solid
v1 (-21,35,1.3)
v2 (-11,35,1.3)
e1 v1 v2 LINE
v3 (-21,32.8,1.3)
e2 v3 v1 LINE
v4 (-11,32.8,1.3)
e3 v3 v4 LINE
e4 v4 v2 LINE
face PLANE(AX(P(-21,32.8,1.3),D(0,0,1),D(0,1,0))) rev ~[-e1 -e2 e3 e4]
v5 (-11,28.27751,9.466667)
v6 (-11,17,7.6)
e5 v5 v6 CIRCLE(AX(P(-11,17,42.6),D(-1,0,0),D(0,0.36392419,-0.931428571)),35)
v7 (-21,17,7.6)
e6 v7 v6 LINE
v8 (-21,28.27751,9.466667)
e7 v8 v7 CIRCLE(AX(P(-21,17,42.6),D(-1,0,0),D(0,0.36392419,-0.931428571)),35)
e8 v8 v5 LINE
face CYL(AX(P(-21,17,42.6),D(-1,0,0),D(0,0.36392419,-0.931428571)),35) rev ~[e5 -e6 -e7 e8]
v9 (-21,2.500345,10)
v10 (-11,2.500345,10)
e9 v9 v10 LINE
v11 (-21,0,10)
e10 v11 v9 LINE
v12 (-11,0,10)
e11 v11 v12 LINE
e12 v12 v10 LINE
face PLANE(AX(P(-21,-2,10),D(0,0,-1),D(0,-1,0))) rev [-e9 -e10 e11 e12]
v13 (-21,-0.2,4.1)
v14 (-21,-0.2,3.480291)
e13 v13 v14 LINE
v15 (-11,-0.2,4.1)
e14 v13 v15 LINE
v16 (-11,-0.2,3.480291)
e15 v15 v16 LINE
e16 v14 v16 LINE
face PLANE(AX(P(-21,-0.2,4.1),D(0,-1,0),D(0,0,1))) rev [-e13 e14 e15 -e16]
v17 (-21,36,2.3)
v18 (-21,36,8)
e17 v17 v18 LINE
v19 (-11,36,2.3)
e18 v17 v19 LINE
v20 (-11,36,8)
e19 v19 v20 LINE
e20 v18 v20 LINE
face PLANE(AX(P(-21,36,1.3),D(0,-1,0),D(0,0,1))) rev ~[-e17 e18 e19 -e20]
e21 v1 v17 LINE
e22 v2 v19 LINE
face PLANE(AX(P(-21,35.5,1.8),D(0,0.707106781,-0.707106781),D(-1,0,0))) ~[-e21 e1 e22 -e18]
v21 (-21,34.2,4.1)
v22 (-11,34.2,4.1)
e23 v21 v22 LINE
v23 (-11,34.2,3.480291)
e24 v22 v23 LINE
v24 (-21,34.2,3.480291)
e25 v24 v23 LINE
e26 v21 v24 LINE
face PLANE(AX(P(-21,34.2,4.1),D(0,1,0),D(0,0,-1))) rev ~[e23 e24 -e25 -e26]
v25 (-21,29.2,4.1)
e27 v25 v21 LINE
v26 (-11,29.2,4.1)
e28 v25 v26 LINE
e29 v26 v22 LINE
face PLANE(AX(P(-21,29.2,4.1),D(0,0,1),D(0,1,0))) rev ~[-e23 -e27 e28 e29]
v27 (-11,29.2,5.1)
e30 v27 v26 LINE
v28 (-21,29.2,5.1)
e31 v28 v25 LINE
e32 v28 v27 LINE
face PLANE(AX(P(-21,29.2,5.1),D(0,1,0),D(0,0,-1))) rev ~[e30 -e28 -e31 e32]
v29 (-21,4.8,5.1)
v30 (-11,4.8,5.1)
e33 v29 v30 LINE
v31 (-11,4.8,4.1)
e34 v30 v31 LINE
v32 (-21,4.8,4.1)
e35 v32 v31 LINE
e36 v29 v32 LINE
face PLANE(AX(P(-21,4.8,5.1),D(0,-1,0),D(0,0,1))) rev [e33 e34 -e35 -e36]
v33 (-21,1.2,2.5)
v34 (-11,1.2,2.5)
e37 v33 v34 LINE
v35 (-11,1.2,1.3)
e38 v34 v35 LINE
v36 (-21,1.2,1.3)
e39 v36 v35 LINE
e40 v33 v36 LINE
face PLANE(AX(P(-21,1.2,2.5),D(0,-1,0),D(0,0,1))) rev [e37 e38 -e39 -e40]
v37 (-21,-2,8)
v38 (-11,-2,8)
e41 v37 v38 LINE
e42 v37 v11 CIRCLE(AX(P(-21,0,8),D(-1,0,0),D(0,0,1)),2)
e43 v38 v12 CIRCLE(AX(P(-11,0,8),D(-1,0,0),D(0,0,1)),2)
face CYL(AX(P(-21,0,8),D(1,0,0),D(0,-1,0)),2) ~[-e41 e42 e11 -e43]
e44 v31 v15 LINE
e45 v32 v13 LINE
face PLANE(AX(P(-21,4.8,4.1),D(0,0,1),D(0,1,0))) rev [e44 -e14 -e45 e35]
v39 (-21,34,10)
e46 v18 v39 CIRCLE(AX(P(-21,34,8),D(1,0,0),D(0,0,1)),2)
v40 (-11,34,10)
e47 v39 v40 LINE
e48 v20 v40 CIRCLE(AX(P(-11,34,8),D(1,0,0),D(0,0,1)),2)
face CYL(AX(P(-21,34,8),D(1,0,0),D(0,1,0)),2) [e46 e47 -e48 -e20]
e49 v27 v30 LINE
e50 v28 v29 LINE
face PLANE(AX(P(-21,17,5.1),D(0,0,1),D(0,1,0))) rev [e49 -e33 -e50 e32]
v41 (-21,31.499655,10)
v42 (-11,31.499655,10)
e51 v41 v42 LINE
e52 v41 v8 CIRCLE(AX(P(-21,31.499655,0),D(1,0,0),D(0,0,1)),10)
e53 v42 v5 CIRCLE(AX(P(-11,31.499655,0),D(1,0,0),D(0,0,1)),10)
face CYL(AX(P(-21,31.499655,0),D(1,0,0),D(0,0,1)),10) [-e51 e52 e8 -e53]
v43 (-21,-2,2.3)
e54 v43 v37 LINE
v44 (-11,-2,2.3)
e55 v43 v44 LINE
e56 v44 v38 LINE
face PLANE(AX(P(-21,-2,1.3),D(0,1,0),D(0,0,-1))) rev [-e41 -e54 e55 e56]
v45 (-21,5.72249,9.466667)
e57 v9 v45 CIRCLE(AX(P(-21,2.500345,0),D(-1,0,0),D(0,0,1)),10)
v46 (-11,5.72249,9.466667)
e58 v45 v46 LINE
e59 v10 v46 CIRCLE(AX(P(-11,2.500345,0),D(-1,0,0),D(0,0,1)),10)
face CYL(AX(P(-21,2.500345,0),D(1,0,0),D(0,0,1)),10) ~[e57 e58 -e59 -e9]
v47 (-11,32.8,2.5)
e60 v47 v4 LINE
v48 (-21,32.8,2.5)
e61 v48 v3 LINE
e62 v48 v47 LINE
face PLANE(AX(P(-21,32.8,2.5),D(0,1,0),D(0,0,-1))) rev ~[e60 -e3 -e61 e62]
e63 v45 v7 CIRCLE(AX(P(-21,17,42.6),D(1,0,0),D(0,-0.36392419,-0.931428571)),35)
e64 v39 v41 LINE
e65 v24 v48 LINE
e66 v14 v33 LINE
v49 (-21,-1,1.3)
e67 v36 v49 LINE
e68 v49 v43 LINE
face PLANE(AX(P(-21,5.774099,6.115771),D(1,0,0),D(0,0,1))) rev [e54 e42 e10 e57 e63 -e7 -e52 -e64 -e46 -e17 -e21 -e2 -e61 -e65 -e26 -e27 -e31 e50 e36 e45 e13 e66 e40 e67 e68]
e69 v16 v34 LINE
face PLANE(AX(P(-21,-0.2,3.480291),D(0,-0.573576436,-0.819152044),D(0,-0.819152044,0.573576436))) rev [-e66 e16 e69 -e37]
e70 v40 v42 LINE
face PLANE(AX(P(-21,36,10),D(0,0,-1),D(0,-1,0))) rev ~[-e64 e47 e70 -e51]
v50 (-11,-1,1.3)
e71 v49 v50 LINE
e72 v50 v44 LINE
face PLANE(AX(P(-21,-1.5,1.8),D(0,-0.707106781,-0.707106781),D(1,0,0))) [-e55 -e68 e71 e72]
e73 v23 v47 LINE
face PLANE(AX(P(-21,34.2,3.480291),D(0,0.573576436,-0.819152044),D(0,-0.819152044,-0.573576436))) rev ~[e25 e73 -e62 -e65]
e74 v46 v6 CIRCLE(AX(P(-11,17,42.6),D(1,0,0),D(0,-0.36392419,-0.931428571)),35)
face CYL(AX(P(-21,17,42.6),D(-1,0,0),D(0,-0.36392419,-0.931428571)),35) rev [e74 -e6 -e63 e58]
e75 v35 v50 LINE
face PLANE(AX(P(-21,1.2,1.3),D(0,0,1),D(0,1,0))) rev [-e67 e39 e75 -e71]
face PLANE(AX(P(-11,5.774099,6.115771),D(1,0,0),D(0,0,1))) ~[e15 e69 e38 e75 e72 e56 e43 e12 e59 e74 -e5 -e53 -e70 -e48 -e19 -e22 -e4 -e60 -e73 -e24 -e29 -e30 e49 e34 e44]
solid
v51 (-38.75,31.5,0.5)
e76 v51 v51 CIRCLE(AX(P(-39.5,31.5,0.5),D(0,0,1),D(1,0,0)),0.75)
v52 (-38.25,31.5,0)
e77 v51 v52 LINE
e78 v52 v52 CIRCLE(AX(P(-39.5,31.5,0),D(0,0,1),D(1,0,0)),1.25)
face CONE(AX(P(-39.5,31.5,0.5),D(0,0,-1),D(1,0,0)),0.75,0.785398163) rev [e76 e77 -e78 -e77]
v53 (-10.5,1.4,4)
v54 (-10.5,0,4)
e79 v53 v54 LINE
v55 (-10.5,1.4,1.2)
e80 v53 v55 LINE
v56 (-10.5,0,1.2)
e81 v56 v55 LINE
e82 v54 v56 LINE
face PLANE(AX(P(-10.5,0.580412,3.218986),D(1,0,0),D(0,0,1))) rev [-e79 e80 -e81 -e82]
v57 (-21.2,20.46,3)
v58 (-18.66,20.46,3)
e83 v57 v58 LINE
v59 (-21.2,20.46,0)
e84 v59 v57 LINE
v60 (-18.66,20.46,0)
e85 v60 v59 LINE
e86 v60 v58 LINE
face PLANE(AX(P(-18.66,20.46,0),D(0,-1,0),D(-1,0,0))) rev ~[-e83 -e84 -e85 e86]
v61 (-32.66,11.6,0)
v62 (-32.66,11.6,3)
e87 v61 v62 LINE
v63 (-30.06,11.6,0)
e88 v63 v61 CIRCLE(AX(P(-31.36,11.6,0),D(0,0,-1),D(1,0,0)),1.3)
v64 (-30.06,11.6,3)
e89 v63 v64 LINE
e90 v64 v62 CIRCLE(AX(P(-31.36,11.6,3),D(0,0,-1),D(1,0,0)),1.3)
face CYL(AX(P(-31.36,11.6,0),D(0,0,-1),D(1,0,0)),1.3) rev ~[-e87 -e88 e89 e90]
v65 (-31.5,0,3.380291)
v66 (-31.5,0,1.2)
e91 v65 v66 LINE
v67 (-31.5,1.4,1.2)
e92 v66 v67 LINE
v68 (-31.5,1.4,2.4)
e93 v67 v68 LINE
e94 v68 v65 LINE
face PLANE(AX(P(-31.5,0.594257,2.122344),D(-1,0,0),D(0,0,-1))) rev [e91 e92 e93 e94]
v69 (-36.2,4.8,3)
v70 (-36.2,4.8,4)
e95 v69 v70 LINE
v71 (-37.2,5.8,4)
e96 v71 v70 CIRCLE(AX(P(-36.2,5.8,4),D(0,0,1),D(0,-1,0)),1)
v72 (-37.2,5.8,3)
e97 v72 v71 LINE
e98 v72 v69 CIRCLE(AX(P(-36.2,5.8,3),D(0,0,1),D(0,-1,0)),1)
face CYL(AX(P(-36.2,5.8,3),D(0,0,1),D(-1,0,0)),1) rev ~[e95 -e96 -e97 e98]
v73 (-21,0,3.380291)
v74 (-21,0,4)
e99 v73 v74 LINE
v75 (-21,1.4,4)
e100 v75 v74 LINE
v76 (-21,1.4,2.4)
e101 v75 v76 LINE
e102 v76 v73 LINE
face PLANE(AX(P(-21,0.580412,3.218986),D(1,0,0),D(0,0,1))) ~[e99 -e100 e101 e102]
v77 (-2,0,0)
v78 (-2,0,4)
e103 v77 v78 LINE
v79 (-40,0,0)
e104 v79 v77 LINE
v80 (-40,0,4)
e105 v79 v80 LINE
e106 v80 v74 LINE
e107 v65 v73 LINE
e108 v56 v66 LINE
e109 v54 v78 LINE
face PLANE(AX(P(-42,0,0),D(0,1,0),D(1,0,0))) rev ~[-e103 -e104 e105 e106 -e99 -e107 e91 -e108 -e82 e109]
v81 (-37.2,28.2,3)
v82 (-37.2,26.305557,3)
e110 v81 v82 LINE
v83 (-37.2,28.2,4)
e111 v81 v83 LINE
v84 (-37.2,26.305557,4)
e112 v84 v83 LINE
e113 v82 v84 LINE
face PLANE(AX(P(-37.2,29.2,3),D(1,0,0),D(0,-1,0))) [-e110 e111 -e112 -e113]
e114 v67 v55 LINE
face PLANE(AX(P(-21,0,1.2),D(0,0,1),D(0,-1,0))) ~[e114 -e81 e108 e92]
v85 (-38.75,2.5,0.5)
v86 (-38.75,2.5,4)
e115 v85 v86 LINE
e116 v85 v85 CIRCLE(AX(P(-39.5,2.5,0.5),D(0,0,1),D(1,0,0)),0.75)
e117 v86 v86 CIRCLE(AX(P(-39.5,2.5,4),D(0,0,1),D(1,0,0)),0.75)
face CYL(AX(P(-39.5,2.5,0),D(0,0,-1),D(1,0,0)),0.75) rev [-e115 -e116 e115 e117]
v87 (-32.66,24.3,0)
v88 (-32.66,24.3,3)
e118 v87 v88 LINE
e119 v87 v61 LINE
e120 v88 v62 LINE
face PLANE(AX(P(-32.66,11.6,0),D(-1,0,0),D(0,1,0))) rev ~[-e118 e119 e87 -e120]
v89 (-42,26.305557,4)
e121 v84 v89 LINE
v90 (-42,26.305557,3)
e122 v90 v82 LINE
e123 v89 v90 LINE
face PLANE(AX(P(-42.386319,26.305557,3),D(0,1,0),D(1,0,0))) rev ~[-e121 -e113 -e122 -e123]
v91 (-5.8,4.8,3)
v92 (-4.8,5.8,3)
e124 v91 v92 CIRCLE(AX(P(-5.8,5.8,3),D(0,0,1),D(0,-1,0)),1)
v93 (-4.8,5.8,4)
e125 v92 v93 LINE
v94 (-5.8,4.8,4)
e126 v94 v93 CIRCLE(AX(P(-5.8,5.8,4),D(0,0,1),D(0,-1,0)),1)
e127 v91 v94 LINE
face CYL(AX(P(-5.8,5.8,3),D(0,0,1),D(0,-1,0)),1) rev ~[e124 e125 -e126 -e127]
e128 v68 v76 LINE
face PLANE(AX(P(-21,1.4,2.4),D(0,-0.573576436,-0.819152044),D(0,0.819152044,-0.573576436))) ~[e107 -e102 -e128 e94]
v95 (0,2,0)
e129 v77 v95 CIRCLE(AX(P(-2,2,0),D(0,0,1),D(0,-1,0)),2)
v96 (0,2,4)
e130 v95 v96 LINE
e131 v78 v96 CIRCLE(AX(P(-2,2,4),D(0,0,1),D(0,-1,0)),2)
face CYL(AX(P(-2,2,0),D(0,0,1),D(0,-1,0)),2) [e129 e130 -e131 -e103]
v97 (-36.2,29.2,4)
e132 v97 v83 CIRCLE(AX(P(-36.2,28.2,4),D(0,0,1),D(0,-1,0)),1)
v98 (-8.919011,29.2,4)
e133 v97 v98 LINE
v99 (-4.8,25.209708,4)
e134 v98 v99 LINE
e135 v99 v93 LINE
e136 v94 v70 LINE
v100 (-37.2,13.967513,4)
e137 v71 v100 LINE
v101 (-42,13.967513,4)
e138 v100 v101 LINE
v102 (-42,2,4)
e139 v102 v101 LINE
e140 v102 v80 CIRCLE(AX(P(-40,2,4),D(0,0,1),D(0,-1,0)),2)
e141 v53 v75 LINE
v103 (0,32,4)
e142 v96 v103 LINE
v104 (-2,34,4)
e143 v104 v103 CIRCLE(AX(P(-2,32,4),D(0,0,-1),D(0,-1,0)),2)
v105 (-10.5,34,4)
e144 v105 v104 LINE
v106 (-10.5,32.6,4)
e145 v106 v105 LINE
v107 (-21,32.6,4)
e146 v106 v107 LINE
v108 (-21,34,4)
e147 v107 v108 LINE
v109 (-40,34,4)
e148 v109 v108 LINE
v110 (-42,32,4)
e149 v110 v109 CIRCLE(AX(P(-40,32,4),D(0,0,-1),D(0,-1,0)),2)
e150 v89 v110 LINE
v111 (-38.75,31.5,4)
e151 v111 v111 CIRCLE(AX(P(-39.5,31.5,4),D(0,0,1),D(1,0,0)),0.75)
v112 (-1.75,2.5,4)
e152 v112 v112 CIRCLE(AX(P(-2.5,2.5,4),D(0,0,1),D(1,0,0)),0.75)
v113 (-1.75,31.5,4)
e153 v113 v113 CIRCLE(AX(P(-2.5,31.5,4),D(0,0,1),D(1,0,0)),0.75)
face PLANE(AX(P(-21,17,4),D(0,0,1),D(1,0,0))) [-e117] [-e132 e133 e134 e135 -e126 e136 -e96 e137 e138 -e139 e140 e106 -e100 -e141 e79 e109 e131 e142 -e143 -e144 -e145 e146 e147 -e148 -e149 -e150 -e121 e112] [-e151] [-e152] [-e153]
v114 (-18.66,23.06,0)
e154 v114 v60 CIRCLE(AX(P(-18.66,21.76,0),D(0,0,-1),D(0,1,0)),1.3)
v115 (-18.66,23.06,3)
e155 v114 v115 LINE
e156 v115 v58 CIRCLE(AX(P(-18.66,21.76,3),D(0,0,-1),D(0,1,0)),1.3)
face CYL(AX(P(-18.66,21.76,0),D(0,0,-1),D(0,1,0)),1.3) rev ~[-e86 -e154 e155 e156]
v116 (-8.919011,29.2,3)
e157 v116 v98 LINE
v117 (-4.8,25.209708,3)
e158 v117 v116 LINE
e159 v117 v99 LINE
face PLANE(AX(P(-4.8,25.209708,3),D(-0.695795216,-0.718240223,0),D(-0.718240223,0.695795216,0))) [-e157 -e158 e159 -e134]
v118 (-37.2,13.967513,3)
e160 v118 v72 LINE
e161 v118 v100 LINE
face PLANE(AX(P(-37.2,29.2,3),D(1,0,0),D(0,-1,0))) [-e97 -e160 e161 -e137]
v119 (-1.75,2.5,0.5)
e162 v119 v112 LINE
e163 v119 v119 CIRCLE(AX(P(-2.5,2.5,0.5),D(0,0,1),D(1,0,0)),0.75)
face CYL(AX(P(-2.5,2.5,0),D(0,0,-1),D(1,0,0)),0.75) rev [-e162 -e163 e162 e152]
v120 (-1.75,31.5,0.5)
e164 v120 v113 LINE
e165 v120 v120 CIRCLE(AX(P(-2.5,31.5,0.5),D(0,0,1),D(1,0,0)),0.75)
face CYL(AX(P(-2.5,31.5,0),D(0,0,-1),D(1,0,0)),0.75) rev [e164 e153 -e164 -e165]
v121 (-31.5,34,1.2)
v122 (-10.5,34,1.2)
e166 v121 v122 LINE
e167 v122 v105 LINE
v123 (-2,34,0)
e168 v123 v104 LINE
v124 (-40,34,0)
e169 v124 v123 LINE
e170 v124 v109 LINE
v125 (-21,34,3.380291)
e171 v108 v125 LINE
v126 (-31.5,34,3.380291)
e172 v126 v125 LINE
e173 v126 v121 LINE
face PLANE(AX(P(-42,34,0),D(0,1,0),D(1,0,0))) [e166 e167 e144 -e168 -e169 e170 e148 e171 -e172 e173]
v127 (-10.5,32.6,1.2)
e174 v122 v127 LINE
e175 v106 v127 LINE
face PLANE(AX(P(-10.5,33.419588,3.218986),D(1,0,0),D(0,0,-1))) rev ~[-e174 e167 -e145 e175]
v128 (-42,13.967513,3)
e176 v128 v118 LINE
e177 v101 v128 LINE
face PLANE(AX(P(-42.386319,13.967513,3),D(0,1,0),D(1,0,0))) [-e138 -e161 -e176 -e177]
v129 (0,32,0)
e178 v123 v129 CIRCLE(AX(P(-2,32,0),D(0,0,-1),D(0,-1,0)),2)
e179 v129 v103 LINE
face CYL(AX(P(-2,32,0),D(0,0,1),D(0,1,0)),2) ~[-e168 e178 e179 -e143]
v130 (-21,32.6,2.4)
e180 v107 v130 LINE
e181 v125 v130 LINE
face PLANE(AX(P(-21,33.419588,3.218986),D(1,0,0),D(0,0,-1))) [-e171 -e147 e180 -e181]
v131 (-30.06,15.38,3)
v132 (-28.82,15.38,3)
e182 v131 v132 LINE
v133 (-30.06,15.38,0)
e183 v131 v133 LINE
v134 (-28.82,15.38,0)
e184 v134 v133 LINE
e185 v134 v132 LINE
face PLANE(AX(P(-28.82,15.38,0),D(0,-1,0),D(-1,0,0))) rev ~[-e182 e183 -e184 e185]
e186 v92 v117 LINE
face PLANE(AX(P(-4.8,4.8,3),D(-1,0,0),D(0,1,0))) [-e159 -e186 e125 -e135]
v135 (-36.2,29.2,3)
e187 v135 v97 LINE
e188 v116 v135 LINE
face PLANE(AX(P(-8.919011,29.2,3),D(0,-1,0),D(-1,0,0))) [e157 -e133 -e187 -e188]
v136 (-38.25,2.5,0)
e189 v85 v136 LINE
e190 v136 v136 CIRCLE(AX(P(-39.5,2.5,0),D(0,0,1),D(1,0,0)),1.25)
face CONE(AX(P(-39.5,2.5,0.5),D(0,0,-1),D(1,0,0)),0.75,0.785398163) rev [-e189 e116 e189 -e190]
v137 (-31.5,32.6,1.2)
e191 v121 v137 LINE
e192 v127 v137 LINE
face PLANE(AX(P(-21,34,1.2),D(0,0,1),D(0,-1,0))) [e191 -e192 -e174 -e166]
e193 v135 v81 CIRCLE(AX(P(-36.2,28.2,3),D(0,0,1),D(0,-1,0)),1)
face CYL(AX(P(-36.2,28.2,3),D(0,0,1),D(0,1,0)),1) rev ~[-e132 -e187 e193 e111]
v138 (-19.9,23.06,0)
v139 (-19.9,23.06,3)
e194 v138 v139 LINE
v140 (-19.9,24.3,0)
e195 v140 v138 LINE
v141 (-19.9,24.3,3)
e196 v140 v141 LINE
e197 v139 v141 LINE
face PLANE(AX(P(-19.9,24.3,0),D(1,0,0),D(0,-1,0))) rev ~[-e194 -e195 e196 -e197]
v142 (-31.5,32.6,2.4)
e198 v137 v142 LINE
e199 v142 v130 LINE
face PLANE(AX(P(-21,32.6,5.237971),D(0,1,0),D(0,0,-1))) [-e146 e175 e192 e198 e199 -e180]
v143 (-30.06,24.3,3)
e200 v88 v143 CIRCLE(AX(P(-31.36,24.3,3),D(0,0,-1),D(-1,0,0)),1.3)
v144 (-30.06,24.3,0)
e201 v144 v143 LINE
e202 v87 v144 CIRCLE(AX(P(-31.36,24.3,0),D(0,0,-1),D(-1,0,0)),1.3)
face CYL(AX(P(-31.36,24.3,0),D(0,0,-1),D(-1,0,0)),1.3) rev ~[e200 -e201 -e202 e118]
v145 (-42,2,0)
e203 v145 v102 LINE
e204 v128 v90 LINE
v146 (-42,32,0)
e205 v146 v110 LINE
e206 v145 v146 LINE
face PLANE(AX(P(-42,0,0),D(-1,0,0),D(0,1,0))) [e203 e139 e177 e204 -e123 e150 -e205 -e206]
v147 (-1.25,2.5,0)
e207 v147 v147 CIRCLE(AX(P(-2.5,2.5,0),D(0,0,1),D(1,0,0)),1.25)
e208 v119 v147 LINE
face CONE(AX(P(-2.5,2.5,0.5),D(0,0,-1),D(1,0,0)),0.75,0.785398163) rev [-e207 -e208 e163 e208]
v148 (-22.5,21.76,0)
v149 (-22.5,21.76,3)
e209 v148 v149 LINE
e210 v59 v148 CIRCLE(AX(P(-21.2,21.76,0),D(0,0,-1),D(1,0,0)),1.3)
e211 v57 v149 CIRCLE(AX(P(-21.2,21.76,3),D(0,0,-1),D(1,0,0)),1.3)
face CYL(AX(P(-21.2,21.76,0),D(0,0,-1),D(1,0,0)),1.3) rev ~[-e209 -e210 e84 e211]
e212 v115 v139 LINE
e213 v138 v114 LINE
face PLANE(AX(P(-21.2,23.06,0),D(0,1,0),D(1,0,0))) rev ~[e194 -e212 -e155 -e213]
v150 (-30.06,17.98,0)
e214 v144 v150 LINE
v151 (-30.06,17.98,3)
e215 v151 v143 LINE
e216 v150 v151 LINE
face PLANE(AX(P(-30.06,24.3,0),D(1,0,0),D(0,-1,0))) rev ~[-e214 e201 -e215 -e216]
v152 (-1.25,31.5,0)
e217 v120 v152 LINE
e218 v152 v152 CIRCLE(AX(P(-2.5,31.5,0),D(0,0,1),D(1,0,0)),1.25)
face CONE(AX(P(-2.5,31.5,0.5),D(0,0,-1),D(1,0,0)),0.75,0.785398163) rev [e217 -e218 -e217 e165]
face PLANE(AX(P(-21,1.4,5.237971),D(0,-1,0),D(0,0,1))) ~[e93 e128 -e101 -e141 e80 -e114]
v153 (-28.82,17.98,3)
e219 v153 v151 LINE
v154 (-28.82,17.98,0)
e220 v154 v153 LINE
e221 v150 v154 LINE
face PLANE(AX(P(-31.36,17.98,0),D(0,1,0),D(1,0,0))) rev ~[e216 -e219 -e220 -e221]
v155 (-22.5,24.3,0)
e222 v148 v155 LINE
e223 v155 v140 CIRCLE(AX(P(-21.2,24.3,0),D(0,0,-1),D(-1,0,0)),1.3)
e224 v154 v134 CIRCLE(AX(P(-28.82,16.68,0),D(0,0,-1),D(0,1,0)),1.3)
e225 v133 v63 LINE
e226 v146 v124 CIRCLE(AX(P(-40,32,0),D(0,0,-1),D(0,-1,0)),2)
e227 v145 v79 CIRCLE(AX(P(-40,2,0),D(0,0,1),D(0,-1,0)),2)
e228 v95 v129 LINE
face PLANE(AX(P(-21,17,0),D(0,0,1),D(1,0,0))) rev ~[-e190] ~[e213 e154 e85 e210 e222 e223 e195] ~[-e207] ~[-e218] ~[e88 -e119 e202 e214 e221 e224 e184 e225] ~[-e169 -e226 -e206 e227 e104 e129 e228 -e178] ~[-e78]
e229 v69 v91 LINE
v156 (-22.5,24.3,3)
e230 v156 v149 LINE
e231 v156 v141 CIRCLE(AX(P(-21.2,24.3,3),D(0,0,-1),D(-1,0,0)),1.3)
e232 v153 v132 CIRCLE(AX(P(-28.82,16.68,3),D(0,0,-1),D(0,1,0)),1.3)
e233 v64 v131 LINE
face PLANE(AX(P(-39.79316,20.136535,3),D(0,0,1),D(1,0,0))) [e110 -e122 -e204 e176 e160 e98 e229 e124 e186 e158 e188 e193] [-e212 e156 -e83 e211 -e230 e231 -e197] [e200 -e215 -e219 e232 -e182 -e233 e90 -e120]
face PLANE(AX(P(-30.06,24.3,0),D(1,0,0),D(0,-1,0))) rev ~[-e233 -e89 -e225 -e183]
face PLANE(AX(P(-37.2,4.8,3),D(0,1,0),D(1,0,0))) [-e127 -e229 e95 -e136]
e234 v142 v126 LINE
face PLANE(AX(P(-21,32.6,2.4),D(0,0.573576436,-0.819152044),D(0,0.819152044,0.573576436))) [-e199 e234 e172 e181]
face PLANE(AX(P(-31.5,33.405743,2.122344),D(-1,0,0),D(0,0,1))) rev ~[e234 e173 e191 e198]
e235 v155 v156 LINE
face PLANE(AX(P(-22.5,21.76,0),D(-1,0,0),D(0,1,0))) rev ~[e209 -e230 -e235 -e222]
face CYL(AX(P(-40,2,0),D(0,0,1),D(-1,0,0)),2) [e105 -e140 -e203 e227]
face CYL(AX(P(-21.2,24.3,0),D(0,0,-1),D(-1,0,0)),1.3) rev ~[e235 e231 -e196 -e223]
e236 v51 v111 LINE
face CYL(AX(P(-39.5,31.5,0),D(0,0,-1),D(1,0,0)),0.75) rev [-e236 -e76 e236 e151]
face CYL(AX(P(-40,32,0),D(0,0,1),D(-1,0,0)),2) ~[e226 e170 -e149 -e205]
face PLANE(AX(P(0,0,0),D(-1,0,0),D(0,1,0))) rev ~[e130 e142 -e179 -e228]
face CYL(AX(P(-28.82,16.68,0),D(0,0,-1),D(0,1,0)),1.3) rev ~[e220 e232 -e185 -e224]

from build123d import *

# Parameters (mm, degrees)
SKIZZE1_W                       = 42
SKIZZE1_H                       = 34
SKIZZE1_R                       = 0.75
AUFSATZ_LINEAR_AUSTRAGEN1_DEPTH = 4
SCHNITT_LINEAR_AUSTRAGEN1_DEPTH = 55.120236511
SCHNITT_LINEAR_AUSTRAGEN2_DEPTH = 55.184868737
SCHNITT_LINEAR_AUSTRAGEN4_DEPTH = 55.184868737
SKIZZE4_W                       = 5.186319123
SKIZZE4_H                       = 12.338044151
SCHNITT_LINEAR_AUSTRAGEN3_DEPTH = 55.120236511
VERRUNDUNG1_R                   = 2
VERRUNDUNG2_R                   = 1
FASE2_SIZE                      = 0.5
SCHNITT_LINEAR_AUSTRAGEN8_DEPTH = 10.5
SKIZZE15_W                      = 4.03797119
SKIZZE15_H                      = 1.639176424
SCHNITT_LINEAR_AUSTRAGEN9_DEPTH = 10.5
AUFSATZ_LINEAR_AUSTRAGEN5_DEPTH = 10
FASE4_SIZE                      = 1
VERRUNDUNG10_R                  = 2
VERRUNDUNG11_R                  = 10


with BuildPart() as part:
    # Skizze1 → Aufsatz-Linear austragen1 (new body)
    with BuildSketch(Plane.XY):
        with Locations((-21, 17)):
            Rectangle(SKIZZE1_W, SKIZZE1_H)
        with Locations((-39.5, 31.5)):
            Circle(SKIZZE1_R, mode=Mode.SUBTRACT)
        with Locations((-2.5, 31.5)):
            Circle(SKIZZE1_R, mode=Mode.SUBTRACT)
        with Locations((-39.5, 2.5)):
            Circle(SKIZZE1_R, mode=Mode.SUBTRACT)
        with Locations((-2.5, 2.5)):
            Circle(SKIZZE1_R, mode=Mode.SUBTRACT)
    extrude(amount=AUFSATZ_LINEAR_AUSTRAGEN1_DEPTH)

    # Skizze2 → Schnitt-Linear austragen1 (cut, through all)
    with BuildSketch(Plane.XY.offset(3)):
        Polygon((-37.2, 29.2), (-37.2, 4.8), (-4.8, 4.8), (-4.8, 25.209708368), (-8.919010717, 29.2), align=None)
    extrude(amount=SCHNITT_LINEAR_AUSTRAGEN1_DEPTH, mode=Mode.SUBTRACT)

    # Skizze3 → Schnitt-Linear austragen2 (cut, through all)
    with BuildSketch(Plane.XY):
        with BuildLine():
            Line((-30.06, 24.3), (-30.06, 11.6))
            ThreePointArc((-30.06, 11.6), (-31.36, 10.3), (-32.66, 11.6))
            Line((-32.66, 11.6), (-32.66, 24.3))
            ThreePointArc((-32.66, 24.3), (-31.36, 25.6), (-30.06, 24.3))
        make_face()
        with BuildLine():
            Line((-19.9, 24.3), (-19.9, 21.76))
            ThreePointArc((-19.9, 21.76), (-21.2, 20.46), (-22.5, 21.76))
            Line((-22.5, 21.76), (-22.5, 24.3))
            ThreePointArc((-22.5, 24.3), (-21.2, 25.6), (-19.9, 24.3))
        make_face()
    extrude(amount=SCHNITT_LINEAR_AUSTRAGEN2_DEPTH, mode=Mode.SUBTRACT)

    # Skizze5 → Schnitt-Linear austragen4 (cut, through all)
    with BuildSketch(Plane.XY):
        with BuildLine():
            Line((-28.82, 15.38), (-31.36, 15.38))
            ThreePointArc((-31.36, 15.38), (-32.66, 16.68), (-31.36, 17.98))
            Line((-31.36, 17.98), (-28.82, 17.98))
            ThreePointArc((-28.82, 17.98), (-27.52, 16.68), (-28.82, 15.38))
        make_face()
        with BuildLine():
            Line((-18.66, 20.46), (-21.2, 20.46))
            ThreePointArc((-21.2, 20.46), (-22.5, 21.76), (-21.2, 23.06))
            Line((-21.2, 23.06), (-18.66, 23.06))
            ThreePointArc((-18.66, 23.06), (-17.36, 21.76), (-18.66, 20.46))
        make_face()
    extrude(amount=SCHNITT_LINEAR_AUSTRAGEN4_DEPTH, mode=Mode.SUBTRACT)

    # Skizze4 → Schnitt-Linear austragen3 (cut, through all)
    with BuildSketch(Plane.XY.offset(3)):
        with Locations((-39.793159562, 20.13653497)):
            Rectangle(SKIZZE4_W, SKIZZE4_H)
    extrude(amount=SCHNITT_LINEAR_AUSTRAGEN3_DEPTH, mode=Mode.SUBTRACT)

    # Verrundung1
    verrundung1_edges = [part.edges().sort_by_distance(p)[0] for p in [
        (0, 0, 2),
        (-42, 0, 2),
        (-42, 34, 2),
        (0, 34, 2),
    ]]
    fillet(verrundung1_edges, radius=VERRUNDUNG1_R)

    # Verrundung2
    verrundung2_edges = [part.edges().sort_by_distance(p)[0] for p in [
        (-37.2, 29.2, 3.5),
        (-37.2, 4.8, 3.5),
        (-4.8, 4.8, 3.5),
    ]]
    fillet(verrundung2_edges, radius=VERRUNDUNG2_R)

    # Fase2
    fase2_edges = [part.edges().sort_by_distance(p)[0] for p in [
        (-40.25, 31.5, 0),
        (-3.25, 31.5, 0),
        (-40.25, 2.5, 0),
        (-3.25, 2.5, 0),
    ]]
    chamfer(fase2_edges, length=FASE2_SIZE)

    # Skizze14 → Schnitt-Linear austragen8 (cut, symmetric)
    with BuildSketch(Plane(origin=(-21, 0, 0), x_dir=(0, 0, -1), z_dir=(1, 0, 0))):
        Polygon((-3.380290553, 34), (-1.2, 34), (-1.2, 32.6), (-2.4, 32.6), align=None)
    schnitt_linear_austragen8 = extrude(amount=SCHNITT_LINEAR_AUSTRAGEN8_DEPTH, both=True, mode=Mode.SUBTRACT)

    # Skizze15 → Schnitt-Linear austragen9 (cut)
    with BuildSketch(Plane(origin=(-21, 0, 0), x_dir=(0, 0, -1), z_dir=(1, 0, 0))):
        with Locations((-3.218985595, 33.419588212)):
            Rectangle(SKIZZE15_W, SKIZZE15_H)
    schnitt_linear_austragen9 = extrude(amount=SCHNITT_LINEAR_AUSTRAGEN9_DEPTH, mode=Mode.SUBTRACT)

    # Spiegeln2: Schnitt-Linear austragen8, Schnitt-Linear austragen9 across plane
    add(schnitt_linear_austragen8.mirror(Plane.ZX.offset(17)), mode=Mode.SUBTRACT)
    add(schnitt_linear_austragen9.mirror(Plane.ZX.offset(17)), mode=Mode.SUBTRACT)


with BuildPart() as body_2:
    # Skizze16 → Aufsatz-Linear austragen5 (new body)
    with BuildSketch(Plane(origin=(-21, 0, 0), x_dir=(0, 0, -1), z_dir=(1, 0, 0))):
        with BuildLine():
            Line((-4.1, 34.2), (-3.480290553, 34.2))
            Line((-3.480290553, 34.2), (-2.5, 32.8))
            Line((-2.5, 32.8), (-1.3, 32.8))
            Line((-1.3, 32.8), (-1.3, 36))
            Line((-1.3, 36), (-10, 36))
            Line((-10, 36), (-10, 29.737346662))
            ThreePointArc((-10, 29.737346662), (-8.205232956, 23.480740698), (-7.6, 17))
            Line((-7.6, 17), (-5.1, 17))
            Line((-5.1, 17), (-5.1, 29.2))
            Line((-5.1, 29.2), (-4.1, 29.2))
            Line((-4.1, 29.2), (-4.1, 34.2))
        make_face()
    extrude(amount=AUFSATZ_LINEAR_AUSTRAGEN5_DEPTH)

    # Fase4
    fase4_edges = [body_2.edges().sort_by_distance(p)[0] for p in [
        (-16, 36, 1.3),
    ]]
    chamfer(fase4_edges, length=FASE4_SIZE)

    # Verrundung10
    verrundung10_edges = [body_2.edges().sort_by_distance(p)[0] for p in [
        (-16, 36, 10),
    ]]
    fillet(verrundung10_edges, radius=VERRUNDUNG10_R)

    # Verrundung11
    verrundung11_edges = [body_2.edges().sort_by_distance(p)[0] for p in [
        (-16, 29.737346662, 10),
    ]]
    fillet(verrundung11_edges, radius=VERRUNDUNG11_R)

    # Spiegeln3: body 2 across plane


with BuildPart() as body_2_1:
    add(body_2.part)
    add(body_2.part.mirror(Plane.ZX.offset(17)))


solid = Compound([part.part, body_2_1.part])
